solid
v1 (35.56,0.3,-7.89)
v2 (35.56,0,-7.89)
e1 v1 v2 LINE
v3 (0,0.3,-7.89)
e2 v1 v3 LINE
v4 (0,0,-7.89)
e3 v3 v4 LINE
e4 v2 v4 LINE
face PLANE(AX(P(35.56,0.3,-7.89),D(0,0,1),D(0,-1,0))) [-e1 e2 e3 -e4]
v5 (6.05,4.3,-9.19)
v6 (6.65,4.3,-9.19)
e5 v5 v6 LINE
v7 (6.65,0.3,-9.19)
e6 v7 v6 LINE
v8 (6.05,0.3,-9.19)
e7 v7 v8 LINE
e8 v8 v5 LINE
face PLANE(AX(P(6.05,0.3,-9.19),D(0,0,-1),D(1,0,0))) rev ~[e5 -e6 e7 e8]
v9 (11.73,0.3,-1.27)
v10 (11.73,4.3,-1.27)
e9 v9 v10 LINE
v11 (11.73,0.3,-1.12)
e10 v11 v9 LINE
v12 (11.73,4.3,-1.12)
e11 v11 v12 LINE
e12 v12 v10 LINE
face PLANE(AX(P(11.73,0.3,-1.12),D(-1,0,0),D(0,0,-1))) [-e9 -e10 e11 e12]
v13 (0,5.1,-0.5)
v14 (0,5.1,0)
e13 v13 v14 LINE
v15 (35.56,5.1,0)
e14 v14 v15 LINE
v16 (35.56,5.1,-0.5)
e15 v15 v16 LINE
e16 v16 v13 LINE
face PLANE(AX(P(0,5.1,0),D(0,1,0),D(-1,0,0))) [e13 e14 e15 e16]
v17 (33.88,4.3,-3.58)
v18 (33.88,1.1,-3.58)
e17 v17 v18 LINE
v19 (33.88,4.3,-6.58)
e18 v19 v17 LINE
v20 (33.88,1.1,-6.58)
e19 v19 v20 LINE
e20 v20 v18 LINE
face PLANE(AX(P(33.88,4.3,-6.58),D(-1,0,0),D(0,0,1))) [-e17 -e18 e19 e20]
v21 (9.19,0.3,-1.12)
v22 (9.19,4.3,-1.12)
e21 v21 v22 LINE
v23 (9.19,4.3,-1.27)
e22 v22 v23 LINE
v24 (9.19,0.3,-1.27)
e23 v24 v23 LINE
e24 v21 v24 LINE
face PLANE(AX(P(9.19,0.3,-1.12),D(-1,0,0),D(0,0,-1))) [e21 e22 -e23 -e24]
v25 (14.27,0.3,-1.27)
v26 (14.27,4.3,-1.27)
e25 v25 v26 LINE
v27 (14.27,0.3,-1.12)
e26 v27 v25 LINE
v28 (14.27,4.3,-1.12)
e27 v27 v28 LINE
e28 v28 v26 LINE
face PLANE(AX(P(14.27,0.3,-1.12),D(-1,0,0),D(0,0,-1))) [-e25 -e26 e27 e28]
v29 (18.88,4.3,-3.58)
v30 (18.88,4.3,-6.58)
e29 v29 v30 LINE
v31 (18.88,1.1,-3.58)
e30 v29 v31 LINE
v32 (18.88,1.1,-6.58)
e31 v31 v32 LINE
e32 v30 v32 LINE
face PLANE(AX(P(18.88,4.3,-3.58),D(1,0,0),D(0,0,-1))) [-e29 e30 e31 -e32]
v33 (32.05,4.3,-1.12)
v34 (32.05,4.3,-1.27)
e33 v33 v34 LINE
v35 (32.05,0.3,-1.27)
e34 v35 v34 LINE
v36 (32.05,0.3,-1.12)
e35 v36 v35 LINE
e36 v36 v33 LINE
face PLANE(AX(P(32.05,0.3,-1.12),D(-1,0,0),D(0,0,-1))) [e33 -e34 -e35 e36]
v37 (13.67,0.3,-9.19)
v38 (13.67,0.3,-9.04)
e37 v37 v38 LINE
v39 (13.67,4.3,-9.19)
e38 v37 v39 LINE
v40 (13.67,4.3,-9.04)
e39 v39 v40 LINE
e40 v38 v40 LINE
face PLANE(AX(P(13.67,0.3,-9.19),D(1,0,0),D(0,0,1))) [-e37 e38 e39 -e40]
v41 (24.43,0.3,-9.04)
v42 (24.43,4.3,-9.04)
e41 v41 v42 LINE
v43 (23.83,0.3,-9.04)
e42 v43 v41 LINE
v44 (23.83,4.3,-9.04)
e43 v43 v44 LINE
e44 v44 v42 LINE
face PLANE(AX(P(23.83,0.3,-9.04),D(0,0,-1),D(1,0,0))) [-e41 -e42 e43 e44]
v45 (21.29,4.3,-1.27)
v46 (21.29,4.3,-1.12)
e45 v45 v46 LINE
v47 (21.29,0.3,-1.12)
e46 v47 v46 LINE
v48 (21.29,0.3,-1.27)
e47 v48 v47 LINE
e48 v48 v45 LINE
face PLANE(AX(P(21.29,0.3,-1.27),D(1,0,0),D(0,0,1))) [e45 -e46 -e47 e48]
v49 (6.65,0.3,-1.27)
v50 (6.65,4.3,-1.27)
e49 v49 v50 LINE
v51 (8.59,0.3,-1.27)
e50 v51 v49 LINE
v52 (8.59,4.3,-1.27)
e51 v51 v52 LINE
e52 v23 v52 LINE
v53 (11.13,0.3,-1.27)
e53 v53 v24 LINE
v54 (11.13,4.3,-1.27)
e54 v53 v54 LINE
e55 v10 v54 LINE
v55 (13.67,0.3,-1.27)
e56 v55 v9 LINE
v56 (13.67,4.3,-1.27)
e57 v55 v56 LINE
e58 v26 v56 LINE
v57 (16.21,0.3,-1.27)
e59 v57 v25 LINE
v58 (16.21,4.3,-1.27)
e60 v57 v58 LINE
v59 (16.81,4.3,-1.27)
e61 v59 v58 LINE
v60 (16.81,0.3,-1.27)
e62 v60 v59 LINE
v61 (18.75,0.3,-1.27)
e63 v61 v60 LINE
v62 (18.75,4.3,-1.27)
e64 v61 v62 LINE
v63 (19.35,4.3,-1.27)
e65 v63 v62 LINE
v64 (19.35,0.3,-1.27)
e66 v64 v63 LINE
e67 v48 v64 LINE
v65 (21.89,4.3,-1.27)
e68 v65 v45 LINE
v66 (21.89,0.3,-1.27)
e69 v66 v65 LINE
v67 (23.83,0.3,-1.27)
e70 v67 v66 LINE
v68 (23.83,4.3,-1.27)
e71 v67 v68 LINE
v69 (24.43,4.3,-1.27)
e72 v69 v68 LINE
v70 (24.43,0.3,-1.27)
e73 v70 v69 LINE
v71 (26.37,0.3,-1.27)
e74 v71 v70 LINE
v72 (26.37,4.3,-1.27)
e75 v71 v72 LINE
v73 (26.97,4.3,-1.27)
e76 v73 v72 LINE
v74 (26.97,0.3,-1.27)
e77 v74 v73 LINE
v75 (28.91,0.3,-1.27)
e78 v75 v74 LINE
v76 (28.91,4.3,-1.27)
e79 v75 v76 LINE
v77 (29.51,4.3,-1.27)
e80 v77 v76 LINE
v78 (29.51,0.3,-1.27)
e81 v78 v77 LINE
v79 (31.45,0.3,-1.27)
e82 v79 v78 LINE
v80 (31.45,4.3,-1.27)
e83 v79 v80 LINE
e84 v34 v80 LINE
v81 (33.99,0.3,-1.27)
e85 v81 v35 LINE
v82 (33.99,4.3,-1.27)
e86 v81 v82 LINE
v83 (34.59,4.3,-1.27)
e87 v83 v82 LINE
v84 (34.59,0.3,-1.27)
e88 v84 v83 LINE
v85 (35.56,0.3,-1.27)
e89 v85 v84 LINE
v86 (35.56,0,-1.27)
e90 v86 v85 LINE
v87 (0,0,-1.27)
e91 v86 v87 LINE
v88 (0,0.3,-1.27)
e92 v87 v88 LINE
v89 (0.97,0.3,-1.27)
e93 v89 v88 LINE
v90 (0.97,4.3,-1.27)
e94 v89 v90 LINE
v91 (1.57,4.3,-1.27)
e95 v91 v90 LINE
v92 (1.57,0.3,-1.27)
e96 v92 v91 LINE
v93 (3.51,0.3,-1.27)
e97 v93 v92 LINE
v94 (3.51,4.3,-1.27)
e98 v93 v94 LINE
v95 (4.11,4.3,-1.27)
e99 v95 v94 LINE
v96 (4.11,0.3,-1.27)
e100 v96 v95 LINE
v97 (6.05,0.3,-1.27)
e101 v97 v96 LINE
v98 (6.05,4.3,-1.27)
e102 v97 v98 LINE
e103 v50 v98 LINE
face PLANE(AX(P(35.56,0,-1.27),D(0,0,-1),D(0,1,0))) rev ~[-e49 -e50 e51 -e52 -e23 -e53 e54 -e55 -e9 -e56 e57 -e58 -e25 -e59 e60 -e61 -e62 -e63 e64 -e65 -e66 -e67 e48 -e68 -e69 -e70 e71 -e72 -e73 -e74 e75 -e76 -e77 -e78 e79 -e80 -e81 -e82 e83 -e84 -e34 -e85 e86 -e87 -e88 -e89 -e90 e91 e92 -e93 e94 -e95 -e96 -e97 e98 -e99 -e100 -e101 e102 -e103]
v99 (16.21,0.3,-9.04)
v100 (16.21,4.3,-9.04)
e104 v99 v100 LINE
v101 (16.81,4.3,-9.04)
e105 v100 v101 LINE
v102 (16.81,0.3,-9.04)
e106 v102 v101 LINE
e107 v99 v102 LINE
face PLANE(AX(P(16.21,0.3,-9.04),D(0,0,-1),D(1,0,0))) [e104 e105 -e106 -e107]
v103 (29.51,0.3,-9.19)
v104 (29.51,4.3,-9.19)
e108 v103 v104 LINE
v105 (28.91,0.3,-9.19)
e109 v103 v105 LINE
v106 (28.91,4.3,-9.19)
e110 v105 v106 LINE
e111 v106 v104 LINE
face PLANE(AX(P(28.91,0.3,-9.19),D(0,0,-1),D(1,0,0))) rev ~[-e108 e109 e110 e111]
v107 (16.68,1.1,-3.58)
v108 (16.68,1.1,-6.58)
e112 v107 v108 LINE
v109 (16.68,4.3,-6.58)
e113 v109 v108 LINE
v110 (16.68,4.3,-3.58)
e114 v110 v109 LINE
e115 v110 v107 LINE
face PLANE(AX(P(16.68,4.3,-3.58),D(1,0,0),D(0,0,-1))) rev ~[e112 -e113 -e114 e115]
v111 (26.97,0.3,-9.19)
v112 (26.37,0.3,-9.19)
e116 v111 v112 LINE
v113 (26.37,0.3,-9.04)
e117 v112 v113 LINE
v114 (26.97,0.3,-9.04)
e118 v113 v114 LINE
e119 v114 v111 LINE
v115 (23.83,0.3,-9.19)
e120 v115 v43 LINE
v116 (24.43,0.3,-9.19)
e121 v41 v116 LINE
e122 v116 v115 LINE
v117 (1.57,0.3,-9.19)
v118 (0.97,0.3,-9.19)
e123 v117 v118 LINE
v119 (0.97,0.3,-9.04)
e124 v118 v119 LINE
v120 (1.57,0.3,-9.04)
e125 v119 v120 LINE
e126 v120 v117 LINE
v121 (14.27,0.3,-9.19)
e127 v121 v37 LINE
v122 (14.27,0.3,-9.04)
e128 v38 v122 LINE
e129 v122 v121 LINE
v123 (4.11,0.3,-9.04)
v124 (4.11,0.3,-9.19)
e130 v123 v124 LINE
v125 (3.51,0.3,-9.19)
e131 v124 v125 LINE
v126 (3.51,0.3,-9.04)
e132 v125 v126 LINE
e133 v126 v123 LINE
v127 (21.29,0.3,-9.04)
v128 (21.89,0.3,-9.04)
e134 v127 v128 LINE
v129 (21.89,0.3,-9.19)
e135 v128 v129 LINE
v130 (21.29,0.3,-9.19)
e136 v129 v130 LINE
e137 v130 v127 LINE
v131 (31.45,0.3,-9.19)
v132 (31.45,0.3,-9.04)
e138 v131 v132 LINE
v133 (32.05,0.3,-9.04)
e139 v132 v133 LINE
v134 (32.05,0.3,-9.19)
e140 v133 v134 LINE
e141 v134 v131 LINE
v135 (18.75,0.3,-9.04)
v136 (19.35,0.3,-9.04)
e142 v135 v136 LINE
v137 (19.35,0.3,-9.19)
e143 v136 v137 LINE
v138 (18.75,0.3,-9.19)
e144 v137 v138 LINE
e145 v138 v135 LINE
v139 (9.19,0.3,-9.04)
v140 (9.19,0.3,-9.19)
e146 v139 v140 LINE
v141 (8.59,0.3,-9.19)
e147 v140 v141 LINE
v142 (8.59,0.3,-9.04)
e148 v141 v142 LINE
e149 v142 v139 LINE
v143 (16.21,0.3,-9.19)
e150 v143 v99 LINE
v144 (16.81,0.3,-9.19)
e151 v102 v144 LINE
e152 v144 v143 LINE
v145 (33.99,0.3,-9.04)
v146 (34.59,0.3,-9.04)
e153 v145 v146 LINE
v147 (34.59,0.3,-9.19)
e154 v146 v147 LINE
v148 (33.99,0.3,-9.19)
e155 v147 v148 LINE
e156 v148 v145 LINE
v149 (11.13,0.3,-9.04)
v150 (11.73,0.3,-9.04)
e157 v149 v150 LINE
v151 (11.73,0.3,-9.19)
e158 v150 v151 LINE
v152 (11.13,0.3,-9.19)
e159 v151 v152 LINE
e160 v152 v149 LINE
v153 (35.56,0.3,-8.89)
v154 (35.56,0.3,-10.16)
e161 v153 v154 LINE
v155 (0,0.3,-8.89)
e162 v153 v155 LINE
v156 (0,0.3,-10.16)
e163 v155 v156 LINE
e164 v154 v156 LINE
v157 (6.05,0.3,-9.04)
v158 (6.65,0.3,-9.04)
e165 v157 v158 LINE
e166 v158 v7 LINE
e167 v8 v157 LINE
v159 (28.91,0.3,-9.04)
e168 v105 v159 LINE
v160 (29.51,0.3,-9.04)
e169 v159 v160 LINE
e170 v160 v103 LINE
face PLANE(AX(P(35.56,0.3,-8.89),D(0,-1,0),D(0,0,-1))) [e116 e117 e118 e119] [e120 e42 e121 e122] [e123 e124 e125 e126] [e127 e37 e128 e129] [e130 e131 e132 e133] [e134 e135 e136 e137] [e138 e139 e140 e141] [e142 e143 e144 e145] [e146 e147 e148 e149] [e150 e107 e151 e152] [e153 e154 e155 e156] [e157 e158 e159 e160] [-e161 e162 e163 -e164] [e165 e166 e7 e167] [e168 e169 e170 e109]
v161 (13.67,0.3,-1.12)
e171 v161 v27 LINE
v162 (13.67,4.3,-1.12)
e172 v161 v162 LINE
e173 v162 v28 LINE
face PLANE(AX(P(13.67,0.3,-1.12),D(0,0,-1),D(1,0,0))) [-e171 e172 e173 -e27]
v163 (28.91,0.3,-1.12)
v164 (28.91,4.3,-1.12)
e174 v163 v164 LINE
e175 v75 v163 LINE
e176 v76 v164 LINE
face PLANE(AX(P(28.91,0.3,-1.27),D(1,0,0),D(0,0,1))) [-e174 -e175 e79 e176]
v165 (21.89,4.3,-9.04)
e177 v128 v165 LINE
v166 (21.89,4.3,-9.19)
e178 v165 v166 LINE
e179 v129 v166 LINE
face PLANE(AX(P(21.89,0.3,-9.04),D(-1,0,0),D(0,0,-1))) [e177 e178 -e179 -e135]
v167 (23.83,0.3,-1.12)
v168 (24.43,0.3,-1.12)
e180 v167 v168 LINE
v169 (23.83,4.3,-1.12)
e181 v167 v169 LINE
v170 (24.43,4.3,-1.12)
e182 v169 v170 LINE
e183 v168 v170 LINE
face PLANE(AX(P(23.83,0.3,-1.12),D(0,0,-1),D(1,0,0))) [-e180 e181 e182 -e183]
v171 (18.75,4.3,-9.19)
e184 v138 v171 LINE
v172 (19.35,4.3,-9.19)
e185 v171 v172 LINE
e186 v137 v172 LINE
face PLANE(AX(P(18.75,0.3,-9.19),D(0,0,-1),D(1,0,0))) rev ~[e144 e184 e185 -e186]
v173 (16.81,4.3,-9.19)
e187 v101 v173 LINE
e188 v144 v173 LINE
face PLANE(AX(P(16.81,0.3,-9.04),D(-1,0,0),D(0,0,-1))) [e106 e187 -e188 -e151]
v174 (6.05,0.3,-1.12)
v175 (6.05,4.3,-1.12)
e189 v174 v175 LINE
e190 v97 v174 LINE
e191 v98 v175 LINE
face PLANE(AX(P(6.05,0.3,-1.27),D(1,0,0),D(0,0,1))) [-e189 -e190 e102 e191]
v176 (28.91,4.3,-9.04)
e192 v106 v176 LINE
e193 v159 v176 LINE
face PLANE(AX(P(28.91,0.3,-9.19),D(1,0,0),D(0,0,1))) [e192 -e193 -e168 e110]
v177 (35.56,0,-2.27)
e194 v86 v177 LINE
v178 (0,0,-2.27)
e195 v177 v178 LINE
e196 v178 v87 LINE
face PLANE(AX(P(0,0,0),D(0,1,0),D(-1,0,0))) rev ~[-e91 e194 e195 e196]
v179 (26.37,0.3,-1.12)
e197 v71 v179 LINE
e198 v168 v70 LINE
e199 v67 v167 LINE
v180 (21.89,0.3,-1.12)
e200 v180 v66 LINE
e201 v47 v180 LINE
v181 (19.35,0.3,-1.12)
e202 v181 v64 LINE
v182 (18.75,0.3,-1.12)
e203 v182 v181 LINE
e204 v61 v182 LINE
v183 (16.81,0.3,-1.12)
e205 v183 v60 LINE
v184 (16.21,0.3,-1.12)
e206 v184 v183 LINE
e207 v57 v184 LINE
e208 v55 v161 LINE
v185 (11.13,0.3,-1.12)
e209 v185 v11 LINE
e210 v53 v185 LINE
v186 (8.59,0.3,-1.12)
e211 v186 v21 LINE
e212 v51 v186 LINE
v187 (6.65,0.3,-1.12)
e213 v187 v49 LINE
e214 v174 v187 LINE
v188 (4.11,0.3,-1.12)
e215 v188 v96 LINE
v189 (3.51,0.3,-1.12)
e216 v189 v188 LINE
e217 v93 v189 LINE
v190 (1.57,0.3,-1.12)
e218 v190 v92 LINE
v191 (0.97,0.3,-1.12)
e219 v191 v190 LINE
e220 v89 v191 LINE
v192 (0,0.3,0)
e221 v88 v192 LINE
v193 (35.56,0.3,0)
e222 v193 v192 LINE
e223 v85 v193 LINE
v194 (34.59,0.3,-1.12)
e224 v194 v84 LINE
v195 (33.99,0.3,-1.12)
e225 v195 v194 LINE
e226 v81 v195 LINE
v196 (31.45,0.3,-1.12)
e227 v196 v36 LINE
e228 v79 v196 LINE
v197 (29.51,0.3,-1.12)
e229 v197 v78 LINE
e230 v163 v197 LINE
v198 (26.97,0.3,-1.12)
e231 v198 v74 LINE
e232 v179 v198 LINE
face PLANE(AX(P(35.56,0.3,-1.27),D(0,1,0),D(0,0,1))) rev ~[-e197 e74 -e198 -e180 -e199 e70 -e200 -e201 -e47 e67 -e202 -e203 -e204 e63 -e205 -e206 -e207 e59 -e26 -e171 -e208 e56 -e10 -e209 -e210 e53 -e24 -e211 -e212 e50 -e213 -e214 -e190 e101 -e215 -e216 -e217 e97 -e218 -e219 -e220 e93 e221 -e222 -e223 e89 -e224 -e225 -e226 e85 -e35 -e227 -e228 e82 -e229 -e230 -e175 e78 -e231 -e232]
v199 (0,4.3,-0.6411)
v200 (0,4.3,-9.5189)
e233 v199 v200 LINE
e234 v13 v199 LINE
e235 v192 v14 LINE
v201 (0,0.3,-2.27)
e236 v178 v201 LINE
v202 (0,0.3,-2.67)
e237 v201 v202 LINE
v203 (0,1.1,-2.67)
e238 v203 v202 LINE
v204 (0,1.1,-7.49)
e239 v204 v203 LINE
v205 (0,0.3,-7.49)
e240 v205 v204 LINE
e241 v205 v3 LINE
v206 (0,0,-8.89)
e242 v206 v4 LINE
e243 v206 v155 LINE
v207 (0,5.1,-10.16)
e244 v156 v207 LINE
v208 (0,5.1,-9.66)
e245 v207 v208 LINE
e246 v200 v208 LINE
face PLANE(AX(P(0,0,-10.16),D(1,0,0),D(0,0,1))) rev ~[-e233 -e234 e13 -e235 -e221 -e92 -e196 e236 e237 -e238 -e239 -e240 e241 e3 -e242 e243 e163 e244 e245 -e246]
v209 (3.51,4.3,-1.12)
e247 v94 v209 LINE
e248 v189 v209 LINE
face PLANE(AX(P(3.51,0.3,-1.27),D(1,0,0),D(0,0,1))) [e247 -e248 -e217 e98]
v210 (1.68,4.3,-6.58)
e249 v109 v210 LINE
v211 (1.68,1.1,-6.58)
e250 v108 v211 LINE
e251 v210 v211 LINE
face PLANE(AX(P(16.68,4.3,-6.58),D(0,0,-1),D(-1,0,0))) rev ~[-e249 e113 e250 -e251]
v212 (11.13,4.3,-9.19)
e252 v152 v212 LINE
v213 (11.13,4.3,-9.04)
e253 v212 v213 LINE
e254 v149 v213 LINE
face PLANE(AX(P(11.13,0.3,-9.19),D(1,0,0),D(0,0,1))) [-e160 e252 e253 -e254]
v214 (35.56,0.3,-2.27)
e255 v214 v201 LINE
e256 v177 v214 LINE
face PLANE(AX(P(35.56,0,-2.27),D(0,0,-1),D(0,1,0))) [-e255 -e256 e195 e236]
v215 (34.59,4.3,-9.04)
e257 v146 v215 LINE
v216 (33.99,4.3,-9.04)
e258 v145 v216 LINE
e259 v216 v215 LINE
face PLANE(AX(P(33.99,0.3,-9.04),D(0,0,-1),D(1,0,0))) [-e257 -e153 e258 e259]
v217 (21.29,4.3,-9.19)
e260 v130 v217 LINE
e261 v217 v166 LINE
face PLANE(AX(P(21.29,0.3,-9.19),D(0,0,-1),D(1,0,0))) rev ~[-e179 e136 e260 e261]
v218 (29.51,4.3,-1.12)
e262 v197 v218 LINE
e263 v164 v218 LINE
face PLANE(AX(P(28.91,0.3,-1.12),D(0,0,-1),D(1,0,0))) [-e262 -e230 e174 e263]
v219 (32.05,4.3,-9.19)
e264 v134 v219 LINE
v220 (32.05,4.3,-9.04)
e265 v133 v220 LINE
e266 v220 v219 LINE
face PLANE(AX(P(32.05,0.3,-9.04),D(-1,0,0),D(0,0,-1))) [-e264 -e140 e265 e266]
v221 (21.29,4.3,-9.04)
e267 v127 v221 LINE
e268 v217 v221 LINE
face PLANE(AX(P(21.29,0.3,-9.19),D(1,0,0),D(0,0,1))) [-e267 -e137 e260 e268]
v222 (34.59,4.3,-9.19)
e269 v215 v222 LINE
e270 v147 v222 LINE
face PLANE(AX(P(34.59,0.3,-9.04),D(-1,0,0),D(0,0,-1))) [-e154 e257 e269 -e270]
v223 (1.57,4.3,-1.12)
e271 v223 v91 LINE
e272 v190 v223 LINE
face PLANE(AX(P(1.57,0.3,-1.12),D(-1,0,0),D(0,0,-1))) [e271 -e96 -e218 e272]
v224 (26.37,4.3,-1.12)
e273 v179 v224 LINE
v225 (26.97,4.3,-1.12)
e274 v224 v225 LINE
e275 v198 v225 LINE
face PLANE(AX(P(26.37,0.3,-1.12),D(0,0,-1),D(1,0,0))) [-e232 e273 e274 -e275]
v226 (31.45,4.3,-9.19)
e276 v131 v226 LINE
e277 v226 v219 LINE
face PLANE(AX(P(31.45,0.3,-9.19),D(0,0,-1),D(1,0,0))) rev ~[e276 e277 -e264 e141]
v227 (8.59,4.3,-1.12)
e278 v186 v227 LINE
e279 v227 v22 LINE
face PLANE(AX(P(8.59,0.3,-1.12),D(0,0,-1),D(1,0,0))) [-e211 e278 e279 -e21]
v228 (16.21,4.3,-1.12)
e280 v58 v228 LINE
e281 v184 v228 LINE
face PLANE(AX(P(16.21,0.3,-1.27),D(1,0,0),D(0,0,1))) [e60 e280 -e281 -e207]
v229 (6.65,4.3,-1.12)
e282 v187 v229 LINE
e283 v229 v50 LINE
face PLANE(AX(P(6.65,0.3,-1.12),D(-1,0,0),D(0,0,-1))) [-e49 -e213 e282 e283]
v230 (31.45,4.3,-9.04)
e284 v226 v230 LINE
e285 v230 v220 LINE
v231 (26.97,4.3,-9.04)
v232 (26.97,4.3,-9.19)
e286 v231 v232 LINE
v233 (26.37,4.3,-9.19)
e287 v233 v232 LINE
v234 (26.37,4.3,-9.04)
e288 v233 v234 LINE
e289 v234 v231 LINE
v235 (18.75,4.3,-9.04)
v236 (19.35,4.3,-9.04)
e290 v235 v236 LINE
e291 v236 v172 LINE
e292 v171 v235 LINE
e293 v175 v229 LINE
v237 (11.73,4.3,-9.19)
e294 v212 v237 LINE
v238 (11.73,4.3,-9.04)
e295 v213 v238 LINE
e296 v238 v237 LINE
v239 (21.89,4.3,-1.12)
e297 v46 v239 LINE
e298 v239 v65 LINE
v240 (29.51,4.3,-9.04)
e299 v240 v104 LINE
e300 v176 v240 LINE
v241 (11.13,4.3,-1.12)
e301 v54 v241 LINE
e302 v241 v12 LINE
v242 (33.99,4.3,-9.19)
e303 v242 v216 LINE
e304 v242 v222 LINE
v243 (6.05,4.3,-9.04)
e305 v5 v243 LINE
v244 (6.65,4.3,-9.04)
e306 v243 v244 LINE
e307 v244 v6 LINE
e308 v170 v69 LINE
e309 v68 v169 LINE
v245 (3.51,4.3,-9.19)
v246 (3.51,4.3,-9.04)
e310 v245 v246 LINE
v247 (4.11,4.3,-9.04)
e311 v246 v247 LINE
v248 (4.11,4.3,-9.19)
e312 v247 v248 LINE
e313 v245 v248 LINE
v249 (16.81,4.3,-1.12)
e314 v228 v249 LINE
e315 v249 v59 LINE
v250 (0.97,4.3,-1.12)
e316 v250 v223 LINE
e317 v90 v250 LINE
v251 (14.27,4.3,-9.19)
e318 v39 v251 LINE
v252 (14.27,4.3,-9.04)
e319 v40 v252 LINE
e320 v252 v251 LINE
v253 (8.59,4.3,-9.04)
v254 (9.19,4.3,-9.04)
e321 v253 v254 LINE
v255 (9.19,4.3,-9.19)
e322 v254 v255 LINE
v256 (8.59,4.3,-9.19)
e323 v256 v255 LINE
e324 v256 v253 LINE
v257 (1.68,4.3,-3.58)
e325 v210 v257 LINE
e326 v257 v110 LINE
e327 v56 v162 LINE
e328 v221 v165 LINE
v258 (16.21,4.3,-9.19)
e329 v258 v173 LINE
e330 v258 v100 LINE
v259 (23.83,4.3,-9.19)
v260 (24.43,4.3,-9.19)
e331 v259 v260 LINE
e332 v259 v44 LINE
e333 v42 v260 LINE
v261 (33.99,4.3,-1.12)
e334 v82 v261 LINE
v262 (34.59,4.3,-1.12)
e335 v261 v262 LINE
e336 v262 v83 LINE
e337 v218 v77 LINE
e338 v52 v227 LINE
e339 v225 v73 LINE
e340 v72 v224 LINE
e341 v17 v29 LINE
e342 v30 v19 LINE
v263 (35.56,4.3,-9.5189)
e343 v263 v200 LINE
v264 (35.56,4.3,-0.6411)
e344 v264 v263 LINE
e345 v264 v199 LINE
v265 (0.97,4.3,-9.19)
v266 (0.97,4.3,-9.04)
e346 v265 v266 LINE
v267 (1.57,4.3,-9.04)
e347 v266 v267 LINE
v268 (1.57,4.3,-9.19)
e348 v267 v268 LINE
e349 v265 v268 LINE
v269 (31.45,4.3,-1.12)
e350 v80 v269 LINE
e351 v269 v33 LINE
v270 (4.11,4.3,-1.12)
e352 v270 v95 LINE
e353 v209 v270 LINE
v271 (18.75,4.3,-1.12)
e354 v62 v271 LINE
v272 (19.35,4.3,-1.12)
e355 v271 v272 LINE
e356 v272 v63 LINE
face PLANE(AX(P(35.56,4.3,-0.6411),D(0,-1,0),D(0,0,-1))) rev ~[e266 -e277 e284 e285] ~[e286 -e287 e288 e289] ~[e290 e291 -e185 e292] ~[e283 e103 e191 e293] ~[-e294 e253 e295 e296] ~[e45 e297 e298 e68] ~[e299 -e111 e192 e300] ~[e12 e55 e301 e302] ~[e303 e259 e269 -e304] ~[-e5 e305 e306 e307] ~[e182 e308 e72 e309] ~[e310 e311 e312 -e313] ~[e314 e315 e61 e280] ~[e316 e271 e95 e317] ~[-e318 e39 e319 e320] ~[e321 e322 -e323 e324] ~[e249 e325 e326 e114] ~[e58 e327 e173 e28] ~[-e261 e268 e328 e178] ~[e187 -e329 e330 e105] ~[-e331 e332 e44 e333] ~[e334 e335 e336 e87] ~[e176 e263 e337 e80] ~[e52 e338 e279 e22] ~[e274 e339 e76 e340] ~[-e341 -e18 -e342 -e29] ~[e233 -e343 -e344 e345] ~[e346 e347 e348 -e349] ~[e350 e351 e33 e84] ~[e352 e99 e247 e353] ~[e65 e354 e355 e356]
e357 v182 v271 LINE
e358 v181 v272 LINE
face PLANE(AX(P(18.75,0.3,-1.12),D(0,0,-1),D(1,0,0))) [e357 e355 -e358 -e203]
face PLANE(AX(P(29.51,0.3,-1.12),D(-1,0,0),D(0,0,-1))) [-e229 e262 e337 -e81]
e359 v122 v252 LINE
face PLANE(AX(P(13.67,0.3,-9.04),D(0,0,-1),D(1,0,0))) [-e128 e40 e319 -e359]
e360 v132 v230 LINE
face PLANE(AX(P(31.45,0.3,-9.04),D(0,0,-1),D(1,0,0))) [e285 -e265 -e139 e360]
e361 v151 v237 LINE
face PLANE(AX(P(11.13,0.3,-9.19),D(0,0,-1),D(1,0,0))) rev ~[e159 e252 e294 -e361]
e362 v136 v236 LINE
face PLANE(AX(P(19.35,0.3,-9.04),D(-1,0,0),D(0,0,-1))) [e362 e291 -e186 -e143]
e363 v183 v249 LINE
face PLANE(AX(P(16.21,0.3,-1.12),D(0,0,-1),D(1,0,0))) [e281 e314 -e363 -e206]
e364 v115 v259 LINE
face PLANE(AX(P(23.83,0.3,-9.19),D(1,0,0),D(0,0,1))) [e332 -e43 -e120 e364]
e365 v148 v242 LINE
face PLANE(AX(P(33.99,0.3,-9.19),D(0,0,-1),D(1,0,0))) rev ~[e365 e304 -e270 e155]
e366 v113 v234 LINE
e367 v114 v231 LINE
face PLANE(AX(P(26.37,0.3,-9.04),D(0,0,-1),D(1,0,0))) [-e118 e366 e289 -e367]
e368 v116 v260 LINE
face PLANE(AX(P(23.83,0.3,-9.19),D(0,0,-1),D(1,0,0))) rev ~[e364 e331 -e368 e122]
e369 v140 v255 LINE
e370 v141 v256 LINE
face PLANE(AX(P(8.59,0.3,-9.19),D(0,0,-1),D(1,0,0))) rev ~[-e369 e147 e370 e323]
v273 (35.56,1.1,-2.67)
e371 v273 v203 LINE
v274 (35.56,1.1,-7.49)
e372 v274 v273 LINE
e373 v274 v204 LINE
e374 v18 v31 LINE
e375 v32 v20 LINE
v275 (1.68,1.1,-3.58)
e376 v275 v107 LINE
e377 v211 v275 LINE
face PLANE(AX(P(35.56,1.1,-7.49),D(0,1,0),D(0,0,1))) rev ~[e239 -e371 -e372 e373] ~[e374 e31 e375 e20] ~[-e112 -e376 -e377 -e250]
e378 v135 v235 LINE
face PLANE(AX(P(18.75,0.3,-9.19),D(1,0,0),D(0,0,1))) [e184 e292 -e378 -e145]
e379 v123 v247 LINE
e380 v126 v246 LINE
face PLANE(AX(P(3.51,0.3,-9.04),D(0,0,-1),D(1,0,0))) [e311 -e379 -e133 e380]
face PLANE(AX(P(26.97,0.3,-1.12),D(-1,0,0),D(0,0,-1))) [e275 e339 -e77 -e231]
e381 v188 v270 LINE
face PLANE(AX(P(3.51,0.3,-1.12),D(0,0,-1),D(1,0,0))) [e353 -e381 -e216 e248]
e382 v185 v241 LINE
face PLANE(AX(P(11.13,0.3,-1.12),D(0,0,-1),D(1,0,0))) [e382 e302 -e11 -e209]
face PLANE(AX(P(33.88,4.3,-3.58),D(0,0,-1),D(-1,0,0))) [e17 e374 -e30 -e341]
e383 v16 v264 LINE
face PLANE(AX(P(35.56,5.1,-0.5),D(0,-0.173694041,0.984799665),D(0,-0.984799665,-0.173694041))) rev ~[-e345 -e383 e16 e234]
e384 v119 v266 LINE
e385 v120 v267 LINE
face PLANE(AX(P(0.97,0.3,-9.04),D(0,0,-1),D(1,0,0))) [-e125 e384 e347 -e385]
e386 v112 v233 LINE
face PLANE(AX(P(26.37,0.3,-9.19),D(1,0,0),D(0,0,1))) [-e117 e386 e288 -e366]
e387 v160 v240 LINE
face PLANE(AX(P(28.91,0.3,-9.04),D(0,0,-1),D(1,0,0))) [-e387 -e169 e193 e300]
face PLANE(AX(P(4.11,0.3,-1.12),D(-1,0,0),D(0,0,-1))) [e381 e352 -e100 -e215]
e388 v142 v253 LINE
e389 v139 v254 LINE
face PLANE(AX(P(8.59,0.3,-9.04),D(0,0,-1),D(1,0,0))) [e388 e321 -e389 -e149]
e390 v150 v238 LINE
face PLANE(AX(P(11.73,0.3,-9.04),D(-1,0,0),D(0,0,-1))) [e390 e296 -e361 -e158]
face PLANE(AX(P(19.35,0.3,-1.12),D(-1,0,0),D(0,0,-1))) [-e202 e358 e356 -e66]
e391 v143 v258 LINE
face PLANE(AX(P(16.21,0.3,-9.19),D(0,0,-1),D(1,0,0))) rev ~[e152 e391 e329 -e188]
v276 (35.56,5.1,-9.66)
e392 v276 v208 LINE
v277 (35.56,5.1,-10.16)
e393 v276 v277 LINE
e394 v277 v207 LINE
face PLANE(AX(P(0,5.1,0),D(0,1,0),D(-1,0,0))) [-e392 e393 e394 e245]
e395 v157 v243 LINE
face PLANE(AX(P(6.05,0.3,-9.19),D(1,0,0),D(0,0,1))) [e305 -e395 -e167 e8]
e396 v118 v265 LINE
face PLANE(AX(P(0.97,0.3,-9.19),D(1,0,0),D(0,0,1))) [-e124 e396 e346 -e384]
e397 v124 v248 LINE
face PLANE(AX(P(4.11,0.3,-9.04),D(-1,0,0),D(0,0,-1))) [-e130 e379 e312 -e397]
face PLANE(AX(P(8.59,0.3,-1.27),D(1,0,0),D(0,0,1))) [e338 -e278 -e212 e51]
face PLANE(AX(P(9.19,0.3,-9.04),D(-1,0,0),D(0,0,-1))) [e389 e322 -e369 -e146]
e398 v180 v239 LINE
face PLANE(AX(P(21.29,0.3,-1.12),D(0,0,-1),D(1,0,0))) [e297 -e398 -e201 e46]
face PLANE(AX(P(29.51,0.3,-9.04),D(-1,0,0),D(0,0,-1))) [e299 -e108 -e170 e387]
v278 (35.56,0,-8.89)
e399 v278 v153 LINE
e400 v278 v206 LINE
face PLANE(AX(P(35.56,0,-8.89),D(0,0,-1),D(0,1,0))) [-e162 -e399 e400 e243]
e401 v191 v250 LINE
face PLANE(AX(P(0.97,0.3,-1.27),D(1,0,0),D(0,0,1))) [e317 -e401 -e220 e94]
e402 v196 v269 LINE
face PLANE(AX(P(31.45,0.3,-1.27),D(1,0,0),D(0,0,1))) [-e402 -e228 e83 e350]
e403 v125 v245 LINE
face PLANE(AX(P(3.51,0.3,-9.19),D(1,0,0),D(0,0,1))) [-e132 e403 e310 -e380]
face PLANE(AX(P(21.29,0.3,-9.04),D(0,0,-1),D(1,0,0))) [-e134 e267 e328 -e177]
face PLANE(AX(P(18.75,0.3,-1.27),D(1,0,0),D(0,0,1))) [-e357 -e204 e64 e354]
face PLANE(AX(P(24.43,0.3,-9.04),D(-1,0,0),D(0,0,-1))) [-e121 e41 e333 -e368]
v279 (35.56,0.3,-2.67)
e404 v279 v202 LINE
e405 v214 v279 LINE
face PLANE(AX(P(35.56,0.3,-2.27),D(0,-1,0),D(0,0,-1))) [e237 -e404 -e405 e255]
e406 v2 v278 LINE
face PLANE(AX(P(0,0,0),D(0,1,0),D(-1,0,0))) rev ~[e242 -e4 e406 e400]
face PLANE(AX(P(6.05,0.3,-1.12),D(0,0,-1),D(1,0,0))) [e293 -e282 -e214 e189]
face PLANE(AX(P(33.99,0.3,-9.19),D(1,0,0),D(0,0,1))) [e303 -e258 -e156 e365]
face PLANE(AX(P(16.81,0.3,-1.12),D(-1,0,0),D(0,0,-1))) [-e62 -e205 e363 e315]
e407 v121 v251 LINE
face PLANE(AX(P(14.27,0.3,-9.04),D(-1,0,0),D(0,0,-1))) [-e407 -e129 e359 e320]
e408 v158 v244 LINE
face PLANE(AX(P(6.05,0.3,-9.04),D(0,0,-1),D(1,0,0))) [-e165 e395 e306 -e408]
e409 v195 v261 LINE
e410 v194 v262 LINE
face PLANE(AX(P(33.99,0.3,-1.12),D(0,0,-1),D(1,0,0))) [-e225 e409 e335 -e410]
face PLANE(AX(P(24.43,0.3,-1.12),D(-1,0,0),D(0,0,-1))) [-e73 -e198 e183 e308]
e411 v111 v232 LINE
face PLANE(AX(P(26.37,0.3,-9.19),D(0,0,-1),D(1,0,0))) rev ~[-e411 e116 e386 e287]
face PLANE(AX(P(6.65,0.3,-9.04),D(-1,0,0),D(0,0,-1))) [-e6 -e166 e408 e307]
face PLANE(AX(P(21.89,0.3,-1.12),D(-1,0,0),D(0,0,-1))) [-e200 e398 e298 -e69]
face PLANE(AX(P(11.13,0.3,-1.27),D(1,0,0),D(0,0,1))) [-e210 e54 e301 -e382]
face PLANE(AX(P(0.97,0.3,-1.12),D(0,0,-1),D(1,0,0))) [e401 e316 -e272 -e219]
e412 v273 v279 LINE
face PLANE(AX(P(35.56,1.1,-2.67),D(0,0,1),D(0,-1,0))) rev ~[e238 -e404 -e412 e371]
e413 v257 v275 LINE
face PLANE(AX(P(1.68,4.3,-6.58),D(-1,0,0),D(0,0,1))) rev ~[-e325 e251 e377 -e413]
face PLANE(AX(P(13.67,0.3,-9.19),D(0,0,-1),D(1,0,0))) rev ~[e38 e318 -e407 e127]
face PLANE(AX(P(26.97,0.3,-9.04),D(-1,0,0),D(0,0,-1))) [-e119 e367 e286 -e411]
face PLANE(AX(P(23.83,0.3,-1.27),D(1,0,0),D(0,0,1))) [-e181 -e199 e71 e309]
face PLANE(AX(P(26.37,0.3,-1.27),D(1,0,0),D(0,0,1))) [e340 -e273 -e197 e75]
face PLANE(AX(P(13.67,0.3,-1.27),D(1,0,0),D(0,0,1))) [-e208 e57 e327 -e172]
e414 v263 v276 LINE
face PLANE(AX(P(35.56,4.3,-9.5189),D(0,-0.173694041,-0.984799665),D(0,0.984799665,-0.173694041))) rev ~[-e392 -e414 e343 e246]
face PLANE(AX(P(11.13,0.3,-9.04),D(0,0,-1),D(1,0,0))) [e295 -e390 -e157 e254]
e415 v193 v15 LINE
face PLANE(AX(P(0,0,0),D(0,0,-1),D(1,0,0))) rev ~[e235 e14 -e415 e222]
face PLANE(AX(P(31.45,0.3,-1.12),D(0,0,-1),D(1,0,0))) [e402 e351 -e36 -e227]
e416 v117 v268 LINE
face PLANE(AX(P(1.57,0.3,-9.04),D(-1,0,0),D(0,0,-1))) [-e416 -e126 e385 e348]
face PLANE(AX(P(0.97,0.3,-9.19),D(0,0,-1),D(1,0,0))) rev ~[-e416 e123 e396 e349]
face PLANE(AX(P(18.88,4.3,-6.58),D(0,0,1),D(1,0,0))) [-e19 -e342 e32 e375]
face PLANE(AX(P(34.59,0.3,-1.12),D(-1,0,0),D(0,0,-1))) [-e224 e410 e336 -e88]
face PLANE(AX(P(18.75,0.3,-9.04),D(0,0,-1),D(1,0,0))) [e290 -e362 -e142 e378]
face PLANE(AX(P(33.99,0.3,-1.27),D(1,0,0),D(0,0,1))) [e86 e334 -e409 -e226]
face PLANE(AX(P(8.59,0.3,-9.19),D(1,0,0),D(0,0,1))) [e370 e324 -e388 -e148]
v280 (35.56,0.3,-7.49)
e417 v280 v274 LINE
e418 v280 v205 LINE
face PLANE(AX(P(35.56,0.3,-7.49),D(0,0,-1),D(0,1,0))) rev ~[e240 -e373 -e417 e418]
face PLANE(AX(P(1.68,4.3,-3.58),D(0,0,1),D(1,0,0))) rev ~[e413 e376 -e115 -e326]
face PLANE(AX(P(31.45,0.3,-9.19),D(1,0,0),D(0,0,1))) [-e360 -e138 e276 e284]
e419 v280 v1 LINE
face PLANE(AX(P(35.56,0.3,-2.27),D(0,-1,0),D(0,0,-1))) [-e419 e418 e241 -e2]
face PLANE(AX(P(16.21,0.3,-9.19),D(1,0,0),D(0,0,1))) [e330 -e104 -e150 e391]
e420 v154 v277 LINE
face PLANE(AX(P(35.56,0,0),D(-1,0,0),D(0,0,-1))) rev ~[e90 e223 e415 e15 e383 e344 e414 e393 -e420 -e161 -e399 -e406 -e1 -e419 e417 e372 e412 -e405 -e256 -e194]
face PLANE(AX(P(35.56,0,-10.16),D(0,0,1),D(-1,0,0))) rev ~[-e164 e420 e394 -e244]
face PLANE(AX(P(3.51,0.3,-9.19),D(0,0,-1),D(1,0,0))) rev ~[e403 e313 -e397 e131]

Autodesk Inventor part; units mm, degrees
ref_plane "YZ Plane" through (0, 0, 0) normal (1, 0, 0) x (0, 1, 0)
ref_plane "XZ Plane" through (0, 0, 0) normal (0, 1, 0) x (-1, 0, 0)
sketch "Sketch1" plane through (0, 0, 0) normal (0, 1, 0) x (-1, 0, 0)
  line L0 (0, 0) -> (-35.56, 0)
  line L1 (-35.56, 0) -> (-35.56, -10.16)
  line L2 (-35.56, -10.16) -> (0, -10.16)
  line L3 (0, -10.16) -> (0, 0)
  dimension "d0" = 35.56
  dimension "d1" = 10.16
extrude "Extrusion1" add sketch "Sketch1" along normal blind 5.1
sketch "Sketch2" plane through (35.56, 0, 0) normal (1, 0, 0) x (0, 0, -1)
  line L0 (0, 0) -> (0, 5.1) projected
  line L1 (0, 0.3) -> (10.16, 0.3) construction
  line L2 (10.16, 0) -> (10.16, 5.1) projected
  line L3 (0, 0) -> (10.16, 0) projected
  line L4 (0, 5.1) -> (10.16, 5.1) projected
  line L5 (5.08, 5.1) -> (5.08, 0) construction
  line L6 (5.08, 0.3) -> (1.27, 0.3) construction
  line L7 (1.27, 0.3) -> (0, 0.3)
  line L8 (0, 0.3) -> (0, 0)
  line L9 (0, 0) -> (1.27, 0)
  line L10 (1.27, 0) -> (1.27, 0.3)
  line L11 (8.89, 0.3) -> (10.16, 0.3)
  line L12 (10.16, 0.3) -> (10.16, 0)
  line L13 (10.16, 0) -> (8.89, 0)
  line L14 (8.89, 0) -> (8.89, 0.3)
  line L15 (2.27, 0.3) -> (7.89, 0.3)
  line L16 (7.89, 0.3) -> (7.89, 0)
  line L17 (7.89, 0) -> (2.27, 0)
  line L18 (2.27, 0) -> (2.27, 0.3)
  dimension "d4" = 0.3
  dimension "d5" = 3.81
  dimension "d6" = 1
  dimension "d7" = 1
extrude "Extrusion2" cut sketch "Sketch2" against normal through all contours L0 L7 L10 L3 | L18 L15 L16 L3 | L2 L3 L14 L11
sketch "Sketch3" plane through (35.56, 5.1, 0) normal (1, 0, 0) x (0, 0, -1)
  line L0 (2.67, -4.8) -> (7.49, -4.8)
  line L1 (7.49, -4.8) -> (7.49, -4)
  line L2 (7.49, -4) -> (2.67, -4)
  line L3 (2.67, -4) -> (2.67, -4.8)
  line L4 (2.27, -5.1) -> (2.27, -4.8) projected
  line L5 (7.89, -4.8) -> (7.89, -5.1) projected
  point P0 (0, -5.1)
  dimension "d12" = 0.4
  dimension "d13" = 0.4
  dimension "d14" = 0.8
extrude "Extrusion3" cut sketch "Sketch3" against normal through all
sketch "Sketch4" plane through (35.56, 5.1, 0) normal (1, 0, 0) x (0, 0, -1)
  line L0 (0, 0) -> (10.16, 0) projected
  line L1 (0.5, 0) -> (0.6411, -0.8)
  line L2 (0.6411, -0.8) -> (9.5189, -0.8)
  line L3 (9.5189, -0.8) -> (9.66, 0)
  line L4 (0.5, 0) -> (9.66, 0)
  point P0 (0, -5.1)
  dimension "d15" = 0.5
  dimension "d16" = 0.5
  dimension "d17" = 0.8
  dimension "d18" = 100
  dimension "d19" = 100
extrude "Extrusion4" cut sketch "Sketch4" against normal through all
sketch "Sketch5" plane through (35.56, 4.3, -0.6411) normal (0, 1, 0) x (1, 0, 0)
  line L0 (0, 9.5189) -> (-35.56, 9.5189) projected
  line L1 (-17.78, 9.5189) -> (-17.78, -0.6411) construction
  line L2 (-35.56, -0.6411) -> (0, -0.6411) projected
  line L3 (-35.56, 0) -> (-35.56, 8.8779) projected
  line L4 (-35.56, 4.4389) -> (0, 4.4389) construction
  line L5 (0, 2.0289) -> (0, 6.8489) projected
  line L6 (-33.88, 2.9389) -> (-18.88, 2.9389)
  line L7 (-18.88, 2.9389) -> (-18.88, 5.9389)
  line L8 (-18.88, 5.9389) -> (-33.88, 5.9389)
  line L9 (-33.88, 5.9389) -> (-33.88, 2.9389)
  line L10 (-33.88, 2.9389) -> (-18.88, 5.9389) construction
  line L11 (-18.88, 2.9389) -> (-33.88, 5.9389) construction
  line L12 (-1.68, 2.9389) -> (-16.68, 2.9389)
  line L13 (-16.68, 2.9389) -> (-16.68, 5.9389)
  line L14 (-16.68, 5.9389) -> (-1.68, 5.9389)
  line L15 (-1.68, 5.9389) -> (-1.68, 2.9389)
  line L16 (-1.68, 2.9389) -> (-16.68, 5.9389) construction
  line L17 (-16.68, 2.9389) -> (-1.68, 5.9389) construction
  point P0 (-26.38, 4.4389)
  point P1 (-9.18, 4.4389)
  dimension "d22" = 15
  dimension "d23" = 3
  dimension "d24" = 8.6
extrude "Extrusion5" cut sketch "Sketch5" against normal through all
ref_plane "Work Plane2" through (0, 5.1, -1.27) normal (0, 0, 1) x (1, 0, 0)
ref_plane "Work Plane1" through (0, 5.1, -5.08) normal (0, 0, 1) x (1, 0, 0)
ref_plane "Work Plane3" through (0, -3, 0) normal (0, -1, 0) x (1, 0, 0)
ref_plane "Work Plane4" through (17.78, 0, -8.89) normal (-1, 0, 0) x (0, 0, 1)
sketch "Sketch7" plane through (35.56, 0.3, -1.27) normal (0, -1, 0) x (1, 0, 0)
  line L0 (-34.29, 0) -> (-1.27, 0)
  line L1 (-17.78, -10.922) -> (-17.78, 3.302) projected
  line L2 (-42.672, -3.81) -> (7.112, -3.81) projected
  line L3 (-0.97, 0) -> (-1.57, 0)
  line L4 (-1.57, 0) -> (-1.57, 0.15)
  line L5 (-1.57, 0.15) -> (-0.97, 0.15)
  line L6 (-0.97, 0.15) -> (-0.97, 0)
  line L7 (-0.97, 0) -> (-1.57, 0.15) construction
  line L8 (-1.57, 0) -> (-0.97, 0.15) construction
  point P0 (-35.56, 1.27)
  point P1 (-1.27, 0)
  point P2 (-1.27, 0.075)
  dimension "d29" = 33.02
  dimension "d30" = 3.81
  dimension "d31" = 0.6
  dimension "d32" = 0.15
extrude "Extrusion6" cut sketch "Sketch7" against normal through all
pattern_linear "Rectangular Pattern1" count 14 spacing 2.54 along (-1, 0, 0) count 2 spacing 7.92 along (0, 0, -1) of "Extrusion6"
equation "\"d7\" = d6"
equation "\"d13\" = d12"
equation "\"d16\" = d15"
properties part number "socket" material "Acetal Resin, Black"
